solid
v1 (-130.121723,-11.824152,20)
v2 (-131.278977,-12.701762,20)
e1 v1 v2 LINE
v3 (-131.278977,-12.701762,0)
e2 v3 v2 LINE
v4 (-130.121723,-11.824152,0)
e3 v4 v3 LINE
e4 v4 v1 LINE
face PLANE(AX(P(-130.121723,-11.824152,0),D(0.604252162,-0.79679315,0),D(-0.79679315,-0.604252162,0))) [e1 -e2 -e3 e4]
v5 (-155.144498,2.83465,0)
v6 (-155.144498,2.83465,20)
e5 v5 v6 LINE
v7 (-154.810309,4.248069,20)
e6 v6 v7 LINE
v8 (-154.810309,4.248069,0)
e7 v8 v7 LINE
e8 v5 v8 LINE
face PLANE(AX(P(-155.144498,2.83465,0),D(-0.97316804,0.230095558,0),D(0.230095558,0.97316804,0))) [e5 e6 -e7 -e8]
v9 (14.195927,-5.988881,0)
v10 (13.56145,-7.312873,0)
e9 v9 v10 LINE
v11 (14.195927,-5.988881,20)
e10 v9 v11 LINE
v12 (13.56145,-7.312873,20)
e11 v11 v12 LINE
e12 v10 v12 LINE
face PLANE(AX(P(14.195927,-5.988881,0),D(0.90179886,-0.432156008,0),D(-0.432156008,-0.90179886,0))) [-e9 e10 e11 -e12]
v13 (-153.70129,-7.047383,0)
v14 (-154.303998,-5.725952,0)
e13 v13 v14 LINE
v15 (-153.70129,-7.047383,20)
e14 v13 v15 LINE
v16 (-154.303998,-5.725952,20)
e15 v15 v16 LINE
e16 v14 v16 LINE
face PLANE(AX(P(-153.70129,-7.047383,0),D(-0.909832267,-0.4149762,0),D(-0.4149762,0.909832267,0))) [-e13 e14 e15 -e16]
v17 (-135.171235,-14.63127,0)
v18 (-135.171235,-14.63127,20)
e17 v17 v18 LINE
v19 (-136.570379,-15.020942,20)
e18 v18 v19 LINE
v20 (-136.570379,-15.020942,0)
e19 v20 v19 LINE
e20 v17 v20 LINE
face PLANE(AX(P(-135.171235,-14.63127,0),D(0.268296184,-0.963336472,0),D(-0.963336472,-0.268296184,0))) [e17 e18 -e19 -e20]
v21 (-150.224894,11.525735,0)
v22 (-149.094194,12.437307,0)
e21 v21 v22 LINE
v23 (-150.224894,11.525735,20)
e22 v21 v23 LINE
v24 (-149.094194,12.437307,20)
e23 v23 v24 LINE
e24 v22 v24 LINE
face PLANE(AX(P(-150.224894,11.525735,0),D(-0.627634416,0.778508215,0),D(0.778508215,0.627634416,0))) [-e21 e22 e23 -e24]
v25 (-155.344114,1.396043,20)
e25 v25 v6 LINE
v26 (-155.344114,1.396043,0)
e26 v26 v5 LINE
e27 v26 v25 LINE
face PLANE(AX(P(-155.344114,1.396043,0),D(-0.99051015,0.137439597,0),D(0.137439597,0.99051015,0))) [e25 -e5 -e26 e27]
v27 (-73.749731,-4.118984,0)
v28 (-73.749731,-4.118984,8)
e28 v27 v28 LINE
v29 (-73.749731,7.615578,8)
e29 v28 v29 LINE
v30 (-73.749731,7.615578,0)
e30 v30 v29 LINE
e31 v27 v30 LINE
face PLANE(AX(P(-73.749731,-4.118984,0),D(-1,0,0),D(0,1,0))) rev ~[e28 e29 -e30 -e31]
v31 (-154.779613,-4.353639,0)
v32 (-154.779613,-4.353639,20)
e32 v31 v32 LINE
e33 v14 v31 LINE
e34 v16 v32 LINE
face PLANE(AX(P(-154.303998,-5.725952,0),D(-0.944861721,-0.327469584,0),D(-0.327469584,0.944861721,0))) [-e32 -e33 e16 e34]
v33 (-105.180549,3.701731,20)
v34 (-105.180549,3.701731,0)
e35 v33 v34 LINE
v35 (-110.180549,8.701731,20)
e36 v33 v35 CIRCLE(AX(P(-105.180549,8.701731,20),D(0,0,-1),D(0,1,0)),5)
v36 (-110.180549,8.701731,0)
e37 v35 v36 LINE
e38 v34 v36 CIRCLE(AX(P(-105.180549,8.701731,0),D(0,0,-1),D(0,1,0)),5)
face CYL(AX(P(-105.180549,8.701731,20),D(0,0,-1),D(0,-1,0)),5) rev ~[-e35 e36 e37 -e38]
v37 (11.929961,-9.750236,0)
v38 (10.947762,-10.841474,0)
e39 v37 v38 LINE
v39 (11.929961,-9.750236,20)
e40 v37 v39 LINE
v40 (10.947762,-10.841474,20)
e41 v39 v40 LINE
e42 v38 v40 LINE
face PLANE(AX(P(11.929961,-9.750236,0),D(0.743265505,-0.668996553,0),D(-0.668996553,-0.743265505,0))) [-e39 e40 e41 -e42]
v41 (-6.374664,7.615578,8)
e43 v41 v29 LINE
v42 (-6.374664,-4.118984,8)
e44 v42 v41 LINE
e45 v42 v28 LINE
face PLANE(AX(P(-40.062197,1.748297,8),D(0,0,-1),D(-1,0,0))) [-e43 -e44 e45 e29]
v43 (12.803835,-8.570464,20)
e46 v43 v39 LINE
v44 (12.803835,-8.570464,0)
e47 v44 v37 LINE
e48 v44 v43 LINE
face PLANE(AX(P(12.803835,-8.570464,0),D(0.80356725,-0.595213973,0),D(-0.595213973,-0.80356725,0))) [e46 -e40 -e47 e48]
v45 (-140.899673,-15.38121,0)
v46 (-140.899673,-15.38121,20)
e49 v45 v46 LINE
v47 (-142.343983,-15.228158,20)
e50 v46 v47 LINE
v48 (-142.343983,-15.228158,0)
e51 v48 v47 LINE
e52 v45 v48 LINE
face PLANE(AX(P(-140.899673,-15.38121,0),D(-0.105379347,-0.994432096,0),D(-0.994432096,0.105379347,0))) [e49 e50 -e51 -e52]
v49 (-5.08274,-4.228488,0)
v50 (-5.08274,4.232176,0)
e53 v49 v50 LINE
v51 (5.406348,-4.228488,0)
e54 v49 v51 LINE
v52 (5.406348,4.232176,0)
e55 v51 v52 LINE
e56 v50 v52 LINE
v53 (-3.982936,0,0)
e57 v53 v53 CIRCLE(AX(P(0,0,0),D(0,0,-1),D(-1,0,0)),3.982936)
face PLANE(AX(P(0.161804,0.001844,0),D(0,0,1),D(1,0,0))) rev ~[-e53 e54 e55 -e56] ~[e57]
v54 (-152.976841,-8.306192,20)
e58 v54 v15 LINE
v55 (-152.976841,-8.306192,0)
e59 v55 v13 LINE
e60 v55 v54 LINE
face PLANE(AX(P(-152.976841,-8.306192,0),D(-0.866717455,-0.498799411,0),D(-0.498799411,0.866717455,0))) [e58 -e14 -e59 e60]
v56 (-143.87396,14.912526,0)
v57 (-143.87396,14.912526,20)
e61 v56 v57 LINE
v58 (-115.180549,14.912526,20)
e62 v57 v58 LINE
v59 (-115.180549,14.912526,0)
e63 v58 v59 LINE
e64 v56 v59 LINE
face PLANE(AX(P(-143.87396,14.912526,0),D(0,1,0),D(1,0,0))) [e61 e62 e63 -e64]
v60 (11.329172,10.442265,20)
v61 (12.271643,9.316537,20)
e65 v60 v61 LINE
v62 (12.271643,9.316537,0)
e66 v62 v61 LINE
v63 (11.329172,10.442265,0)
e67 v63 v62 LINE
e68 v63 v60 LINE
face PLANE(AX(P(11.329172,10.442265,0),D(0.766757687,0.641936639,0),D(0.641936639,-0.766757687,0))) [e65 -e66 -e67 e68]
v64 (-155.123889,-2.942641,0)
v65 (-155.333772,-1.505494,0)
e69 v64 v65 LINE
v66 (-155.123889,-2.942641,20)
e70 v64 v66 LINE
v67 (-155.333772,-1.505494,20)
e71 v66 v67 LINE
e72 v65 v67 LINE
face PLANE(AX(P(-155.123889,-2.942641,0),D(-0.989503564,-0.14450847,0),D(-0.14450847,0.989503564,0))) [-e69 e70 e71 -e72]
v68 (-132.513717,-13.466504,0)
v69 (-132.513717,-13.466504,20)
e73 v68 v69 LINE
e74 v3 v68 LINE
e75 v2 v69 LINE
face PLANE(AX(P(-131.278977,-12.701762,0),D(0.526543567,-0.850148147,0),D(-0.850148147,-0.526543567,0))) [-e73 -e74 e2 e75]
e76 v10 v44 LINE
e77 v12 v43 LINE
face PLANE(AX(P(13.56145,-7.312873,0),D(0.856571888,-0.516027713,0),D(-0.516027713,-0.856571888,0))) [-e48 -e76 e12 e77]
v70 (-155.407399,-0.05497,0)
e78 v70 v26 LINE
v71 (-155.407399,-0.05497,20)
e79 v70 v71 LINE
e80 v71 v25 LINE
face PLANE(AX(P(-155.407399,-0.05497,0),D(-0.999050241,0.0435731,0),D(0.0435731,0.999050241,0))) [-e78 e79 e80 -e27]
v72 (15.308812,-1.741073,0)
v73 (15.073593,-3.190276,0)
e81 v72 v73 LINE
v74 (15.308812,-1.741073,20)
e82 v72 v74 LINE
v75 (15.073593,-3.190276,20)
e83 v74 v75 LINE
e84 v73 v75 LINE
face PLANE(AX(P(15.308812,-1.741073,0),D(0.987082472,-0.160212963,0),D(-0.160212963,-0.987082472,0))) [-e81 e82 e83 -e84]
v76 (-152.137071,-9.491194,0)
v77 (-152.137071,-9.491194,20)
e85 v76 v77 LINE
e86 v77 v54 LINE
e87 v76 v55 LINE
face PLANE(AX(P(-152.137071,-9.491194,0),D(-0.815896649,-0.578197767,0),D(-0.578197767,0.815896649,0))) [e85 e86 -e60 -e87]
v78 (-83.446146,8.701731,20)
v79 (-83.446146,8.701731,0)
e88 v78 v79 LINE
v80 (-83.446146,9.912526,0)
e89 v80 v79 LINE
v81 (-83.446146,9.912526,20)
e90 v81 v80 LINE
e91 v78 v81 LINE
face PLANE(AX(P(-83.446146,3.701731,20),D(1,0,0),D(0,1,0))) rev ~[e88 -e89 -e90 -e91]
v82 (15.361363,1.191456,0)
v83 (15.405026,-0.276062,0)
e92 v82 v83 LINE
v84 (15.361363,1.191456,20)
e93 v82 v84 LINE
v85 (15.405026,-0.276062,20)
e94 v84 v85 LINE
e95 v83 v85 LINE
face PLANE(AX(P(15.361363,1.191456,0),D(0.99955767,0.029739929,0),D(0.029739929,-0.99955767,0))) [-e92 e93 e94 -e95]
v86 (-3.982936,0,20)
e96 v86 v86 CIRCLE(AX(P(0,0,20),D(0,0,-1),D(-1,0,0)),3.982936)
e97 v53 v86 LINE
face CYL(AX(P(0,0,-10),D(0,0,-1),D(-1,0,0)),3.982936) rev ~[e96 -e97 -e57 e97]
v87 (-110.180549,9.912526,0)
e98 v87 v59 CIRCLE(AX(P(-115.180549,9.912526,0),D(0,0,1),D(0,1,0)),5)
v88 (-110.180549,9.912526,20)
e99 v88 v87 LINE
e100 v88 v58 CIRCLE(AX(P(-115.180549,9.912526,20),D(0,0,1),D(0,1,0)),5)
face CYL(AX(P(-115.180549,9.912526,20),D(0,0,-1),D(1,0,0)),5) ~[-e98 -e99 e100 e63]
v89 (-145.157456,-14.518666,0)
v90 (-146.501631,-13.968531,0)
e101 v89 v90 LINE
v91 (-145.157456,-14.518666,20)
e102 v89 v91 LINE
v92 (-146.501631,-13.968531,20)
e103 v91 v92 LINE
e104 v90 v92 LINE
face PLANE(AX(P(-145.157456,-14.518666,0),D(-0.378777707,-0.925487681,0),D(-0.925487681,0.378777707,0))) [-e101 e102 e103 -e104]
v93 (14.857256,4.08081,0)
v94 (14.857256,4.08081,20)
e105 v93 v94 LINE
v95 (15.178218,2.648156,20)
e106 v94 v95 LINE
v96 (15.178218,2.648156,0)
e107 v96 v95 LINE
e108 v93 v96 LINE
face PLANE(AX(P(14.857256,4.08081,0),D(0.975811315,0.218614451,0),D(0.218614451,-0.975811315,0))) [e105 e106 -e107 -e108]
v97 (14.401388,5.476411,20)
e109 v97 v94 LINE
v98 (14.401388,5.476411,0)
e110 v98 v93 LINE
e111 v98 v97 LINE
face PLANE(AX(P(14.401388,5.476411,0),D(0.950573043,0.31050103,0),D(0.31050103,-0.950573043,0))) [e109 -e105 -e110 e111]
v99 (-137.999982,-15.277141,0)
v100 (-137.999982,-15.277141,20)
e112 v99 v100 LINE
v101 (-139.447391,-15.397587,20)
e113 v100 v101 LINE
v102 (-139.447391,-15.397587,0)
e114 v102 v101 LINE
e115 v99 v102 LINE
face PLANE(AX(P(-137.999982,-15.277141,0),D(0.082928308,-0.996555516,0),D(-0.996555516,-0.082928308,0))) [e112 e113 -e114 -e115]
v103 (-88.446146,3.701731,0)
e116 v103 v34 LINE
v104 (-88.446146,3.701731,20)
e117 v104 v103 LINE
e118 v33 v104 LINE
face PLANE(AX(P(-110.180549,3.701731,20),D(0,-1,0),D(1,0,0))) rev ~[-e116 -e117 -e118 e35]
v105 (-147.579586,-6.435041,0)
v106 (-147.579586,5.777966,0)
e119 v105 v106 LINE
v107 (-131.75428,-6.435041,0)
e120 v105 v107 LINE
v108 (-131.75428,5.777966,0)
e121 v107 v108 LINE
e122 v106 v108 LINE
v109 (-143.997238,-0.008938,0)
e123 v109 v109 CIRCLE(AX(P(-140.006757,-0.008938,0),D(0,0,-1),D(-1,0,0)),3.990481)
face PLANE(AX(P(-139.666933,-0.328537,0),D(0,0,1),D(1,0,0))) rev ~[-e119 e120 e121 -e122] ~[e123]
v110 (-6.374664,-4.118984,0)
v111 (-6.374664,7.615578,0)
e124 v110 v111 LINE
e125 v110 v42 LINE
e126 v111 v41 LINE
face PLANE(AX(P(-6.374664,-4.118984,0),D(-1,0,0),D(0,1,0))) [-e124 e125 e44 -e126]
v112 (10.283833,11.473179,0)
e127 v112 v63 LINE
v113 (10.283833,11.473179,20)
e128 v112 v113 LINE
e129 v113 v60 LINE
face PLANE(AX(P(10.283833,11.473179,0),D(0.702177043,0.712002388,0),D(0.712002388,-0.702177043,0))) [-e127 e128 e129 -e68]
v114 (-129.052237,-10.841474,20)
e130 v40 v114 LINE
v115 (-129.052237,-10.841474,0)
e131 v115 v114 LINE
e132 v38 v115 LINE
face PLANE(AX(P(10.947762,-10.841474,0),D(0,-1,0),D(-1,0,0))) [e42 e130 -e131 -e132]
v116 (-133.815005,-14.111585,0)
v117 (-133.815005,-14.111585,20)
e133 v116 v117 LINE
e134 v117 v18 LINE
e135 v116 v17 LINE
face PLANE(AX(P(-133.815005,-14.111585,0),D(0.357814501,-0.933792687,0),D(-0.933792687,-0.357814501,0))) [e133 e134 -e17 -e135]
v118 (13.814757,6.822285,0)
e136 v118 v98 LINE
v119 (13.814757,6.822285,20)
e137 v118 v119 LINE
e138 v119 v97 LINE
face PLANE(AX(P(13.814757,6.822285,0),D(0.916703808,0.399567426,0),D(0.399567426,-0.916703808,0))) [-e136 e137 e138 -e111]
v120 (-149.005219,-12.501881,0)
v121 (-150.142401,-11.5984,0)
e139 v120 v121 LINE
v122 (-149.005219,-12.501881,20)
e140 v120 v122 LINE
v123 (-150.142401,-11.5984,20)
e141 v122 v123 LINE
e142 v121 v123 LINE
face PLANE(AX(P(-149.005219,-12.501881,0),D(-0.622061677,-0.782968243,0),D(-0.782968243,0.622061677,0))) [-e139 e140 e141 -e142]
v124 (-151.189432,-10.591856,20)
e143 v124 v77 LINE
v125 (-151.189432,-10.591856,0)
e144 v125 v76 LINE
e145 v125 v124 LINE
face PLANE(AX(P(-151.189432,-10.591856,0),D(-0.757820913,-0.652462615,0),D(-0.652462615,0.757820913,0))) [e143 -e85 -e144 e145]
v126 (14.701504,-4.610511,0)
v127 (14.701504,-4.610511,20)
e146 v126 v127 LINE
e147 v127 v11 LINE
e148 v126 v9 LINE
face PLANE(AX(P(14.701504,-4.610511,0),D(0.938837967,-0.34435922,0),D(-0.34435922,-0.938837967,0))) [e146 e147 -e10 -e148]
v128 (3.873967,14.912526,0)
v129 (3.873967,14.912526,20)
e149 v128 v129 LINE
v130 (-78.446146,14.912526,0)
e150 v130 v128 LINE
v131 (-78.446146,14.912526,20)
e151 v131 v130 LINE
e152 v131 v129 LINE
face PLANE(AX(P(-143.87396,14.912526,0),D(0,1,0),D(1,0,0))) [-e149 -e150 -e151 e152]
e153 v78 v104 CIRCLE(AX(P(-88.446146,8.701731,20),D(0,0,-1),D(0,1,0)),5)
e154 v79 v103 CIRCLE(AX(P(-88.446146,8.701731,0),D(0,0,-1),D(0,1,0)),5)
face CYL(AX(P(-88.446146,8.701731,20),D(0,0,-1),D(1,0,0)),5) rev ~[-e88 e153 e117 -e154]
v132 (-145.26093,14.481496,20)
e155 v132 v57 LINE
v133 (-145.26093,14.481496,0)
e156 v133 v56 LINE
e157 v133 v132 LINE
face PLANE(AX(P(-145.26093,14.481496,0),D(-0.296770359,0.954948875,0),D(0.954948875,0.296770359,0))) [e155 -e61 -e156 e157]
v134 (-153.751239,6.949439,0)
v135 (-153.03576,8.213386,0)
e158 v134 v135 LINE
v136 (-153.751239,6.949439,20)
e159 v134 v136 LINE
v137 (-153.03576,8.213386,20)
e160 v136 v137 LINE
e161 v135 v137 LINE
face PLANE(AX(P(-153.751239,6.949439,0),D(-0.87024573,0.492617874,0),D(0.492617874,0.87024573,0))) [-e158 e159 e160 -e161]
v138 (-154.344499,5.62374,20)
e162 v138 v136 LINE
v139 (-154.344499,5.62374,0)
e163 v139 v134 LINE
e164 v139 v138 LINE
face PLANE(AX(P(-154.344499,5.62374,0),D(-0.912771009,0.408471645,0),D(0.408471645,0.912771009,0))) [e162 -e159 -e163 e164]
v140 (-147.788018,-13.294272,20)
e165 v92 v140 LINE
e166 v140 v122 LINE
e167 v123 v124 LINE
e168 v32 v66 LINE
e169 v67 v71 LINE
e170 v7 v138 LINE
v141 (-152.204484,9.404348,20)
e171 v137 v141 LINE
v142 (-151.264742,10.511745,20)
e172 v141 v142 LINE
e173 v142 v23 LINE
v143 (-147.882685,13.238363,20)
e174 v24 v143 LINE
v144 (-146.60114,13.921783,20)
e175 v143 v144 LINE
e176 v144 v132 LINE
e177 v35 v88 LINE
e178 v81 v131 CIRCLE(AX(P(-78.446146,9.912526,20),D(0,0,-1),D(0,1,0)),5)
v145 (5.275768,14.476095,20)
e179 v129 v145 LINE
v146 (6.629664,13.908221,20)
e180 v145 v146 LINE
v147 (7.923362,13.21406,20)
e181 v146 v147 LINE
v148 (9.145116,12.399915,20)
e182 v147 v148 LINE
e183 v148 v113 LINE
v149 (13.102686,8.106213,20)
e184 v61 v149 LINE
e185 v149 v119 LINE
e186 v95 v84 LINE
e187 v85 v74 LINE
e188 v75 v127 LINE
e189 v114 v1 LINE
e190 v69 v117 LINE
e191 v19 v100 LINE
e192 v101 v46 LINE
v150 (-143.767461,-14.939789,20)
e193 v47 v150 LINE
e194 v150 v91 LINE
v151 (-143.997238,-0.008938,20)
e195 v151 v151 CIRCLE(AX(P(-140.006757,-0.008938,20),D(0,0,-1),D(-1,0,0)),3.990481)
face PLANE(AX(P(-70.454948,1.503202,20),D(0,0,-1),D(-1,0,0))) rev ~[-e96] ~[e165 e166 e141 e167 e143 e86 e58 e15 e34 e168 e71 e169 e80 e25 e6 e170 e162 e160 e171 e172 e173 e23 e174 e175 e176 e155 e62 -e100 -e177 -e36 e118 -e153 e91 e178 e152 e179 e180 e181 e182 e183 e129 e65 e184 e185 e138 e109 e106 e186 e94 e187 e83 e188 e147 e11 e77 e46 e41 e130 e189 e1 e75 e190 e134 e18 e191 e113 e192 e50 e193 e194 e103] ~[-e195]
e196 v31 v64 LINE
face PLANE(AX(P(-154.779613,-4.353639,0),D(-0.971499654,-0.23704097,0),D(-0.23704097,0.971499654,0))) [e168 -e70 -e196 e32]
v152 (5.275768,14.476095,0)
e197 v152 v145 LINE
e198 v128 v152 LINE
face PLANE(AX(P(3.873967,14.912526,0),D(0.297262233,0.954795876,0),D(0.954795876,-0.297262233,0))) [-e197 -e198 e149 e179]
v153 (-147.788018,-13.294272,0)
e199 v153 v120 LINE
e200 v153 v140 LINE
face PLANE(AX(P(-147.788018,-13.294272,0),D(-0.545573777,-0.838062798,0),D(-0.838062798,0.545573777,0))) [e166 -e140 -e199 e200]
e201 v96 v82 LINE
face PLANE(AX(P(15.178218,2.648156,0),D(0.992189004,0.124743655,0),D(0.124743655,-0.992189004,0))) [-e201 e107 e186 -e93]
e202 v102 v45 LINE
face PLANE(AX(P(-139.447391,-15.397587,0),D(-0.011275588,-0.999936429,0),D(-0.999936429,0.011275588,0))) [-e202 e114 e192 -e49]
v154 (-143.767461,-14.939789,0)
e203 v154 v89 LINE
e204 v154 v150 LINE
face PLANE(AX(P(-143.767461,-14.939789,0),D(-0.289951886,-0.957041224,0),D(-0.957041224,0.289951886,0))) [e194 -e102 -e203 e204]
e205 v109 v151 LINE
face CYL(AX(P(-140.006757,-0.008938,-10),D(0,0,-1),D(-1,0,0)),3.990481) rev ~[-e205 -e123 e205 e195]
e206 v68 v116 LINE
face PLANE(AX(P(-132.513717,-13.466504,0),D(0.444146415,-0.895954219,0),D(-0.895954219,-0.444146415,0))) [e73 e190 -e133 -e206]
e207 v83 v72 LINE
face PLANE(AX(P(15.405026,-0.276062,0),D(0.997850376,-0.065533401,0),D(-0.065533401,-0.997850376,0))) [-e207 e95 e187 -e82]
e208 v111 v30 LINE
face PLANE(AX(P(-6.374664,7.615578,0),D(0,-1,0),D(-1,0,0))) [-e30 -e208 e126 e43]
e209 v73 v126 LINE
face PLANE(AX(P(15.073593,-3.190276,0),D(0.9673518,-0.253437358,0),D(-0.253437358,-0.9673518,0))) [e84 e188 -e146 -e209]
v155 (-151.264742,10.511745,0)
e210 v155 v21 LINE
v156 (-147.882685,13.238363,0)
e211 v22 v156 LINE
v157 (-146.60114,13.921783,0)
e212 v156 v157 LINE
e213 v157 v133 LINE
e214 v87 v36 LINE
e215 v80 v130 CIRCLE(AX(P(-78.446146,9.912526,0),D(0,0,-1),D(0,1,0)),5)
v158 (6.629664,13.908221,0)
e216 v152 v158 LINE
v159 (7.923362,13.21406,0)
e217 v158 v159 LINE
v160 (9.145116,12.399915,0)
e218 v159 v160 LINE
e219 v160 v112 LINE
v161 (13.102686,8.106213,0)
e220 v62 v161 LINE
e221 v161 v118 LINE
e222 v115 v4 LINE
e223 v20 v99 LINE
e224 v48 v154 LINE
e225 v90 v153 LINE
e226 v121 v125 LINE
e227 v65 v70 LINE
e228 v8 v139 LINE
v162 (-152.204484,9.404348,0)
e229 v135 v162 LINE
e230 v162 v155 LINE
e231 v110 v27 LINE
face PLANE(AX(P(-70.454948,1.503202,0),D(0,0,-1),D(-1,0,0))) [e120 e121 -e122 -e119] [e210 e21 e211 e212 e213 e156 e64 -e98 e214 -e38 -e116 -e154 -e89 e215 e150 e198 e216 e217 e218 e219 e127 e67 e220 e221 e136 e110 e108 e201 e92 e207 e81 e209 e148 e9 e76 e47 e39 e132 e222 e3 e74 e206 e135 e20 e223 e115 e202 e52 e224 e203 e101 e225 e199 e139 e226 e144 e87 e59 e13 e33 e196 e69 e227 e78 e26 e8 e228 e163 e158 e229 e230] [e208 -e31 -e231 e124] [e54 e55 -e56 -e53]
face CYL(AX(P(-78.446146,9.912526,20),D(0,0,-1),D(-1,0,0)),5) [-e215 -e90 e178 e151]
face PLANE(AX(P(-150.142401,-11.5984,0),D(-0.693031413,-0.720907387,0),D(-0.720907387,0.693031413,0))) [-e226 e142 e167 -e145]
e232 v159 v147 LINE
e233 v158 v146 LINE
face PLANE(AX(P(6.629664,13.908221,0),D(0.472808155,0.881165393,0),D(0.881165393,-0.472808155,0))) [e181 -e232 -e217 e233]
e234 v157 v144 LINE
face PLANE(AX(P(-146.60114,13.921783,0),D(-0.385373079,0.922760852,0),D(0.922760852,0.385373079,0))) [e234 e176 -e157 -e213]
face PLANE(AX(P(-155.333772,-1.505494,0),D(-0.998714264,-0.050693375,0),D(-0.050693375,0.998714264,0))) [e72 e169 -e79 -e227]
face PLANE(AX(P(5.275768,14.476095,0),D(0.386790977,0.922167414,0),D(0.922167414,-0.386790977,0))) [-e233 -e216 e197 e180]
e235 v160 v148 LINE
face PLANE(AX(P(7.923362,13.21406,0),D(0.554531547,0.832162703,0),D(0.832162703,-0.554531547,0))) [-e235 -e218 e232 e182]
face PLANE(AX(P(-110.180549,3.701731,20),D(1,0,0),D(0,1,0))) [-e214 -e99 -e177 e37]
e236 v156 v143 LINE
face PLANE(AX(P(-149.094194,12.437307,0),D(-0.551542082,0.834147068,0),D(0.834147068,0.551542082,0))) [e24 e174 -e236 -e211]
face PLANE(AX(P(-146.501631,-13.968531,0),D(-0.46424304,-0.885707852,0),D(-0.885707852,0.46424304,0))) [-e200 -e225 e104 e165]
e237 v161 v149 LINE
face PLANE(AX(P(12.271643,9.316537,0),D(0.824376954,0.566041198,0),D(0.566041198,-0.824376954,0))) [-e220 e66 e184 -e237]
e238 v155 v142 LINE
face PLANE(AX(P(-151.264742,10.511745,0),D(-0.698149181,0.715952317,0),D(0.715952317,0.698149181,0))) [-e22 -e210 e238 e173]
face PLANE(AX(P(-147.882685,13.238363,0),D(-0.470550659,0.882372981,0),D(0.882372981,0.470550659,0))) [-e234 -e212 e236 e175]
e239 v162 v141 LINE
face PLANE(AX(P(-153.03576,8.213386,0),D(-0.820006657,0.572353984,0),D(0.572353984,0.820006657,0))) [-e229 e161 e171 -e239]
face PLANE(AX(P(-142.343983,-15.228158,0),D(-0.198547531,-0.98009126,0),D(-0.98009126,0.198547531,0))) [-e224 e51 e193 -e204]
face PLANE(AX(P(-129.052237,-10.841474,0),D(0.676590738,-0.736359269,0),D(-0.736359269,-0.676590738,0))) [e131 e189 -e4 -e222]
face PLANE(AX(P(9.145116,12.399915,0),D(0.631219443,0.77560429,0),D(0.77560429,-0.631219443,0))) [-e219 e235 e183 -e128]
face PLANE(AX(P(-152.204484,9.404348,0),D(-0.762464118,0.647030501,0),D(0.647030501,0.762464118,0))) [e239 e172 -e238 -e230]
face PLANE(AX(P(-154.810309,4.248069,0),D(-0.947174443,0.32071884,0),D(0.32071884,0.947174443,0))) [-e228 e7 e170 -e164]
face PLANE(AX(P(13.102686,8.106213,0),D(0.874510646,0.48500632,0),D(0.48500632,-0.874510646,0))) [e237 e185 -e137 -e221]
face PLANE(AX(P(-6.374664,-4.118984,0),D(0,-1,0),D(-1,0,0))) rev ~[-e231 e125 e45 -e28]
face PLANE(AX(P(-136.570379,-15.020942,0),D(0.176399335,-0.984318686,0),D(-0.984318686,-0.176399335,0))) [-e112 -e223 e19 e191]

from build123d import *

# Parameters (mm, degrees)
BOSS_EXTRUDE1_DEPTH = 19.999999553
CUT_EXTRUDE1_DEPTH  = 158.443784597
CUT_EXTRUDE2_DEPTH  = 158.443784597
SKETCH7_W           = 15.825305434
SKETCH7_H           = 12.213007454
SKETCH7_W_2         = 10.489088449
SKETCH7_H_2         = 8.460664219
BOSS_EXTRUDE5_DEPTH = 20
SKETCH6_R           = 3.982936417
SKETCH6_R_2         = 3.990480896
CUT_EXTRUDE8_DEPTH  = 40
SKETCH8_W           = 26.734403149
SKETCH8_H           = 11.210794898
CUT_EXTRUDE9_DEPTH  = 30
FILLET1_R           = 5
FILLET2_R           = 5
SKETCH9_W           = 67.375066669
SKETCH9_H           = 11.734562751
CUT_EXTRUDE10_DEPTH = 8


with BuildPart() as part:
    # Sketch1 → Boss-Extrude1 (new body)
    with BuildSketch(Plane(origin=(0, 0, 0), x_dir=(-1, 0, 0), z_dir=(0, 0, -1))):
        Polygon((150.224894285, 11.525735259), (149.094194174, 12.437307276), (147.882685065, 13.238362968), (146.601140499, 13.921783306), (145.260930061, 14.481496066), (143.87395978, 14.912526123), (-3.873967333, 14.912526123), (-5.275767762, 14.476095326), (-6.629663985, 13.908221386), (-7.923361845, 13.214060105), (-9.145116434, 12.399914674), (-10.28383337, 11.473178864), (-11.329172179, 10.442265309), (-12.271642685, 9.316536598), (-13.102686033, 8.106213063), (-13.814756647, 6.822284777), (-14.401388355, 5.476410501), (-14.857255854, 4.080810118), (-15.178218484, 2.648155671), (-15.361363068, 1.191455987), (-15.405026264, -0.276062055), (-15.308812261, -1.741073444), (-15.073592775, -3.19027598), (-14.70150426, -4.610510543), (-14.195927419, -5.988881458), (-13.561449945, -7.312873378), (-12.803834863, -8.570464328), (-11.929960921, -9.750235826), (-10.947762057, -10.841473937), (129.052236676, -10.841473937), (130.121722817, -11.824152432), (131.278976798, -12.701761909), (132.513716817, -13.466504402), (133.815005422, -14.111584984), (135.171234608, -14.631270431), (136.570379138, -15.020942315), (137.999981642, -15.277140774), (139.447391033, -15.39758686), (140.899673104, -15.381210484), (142.343983054, -15.228157863), (143.767461181, -14.939788729), (145.157456398, -14.518666081), (146.501630545, -13.968531042), (147.788017988, -13.294272125), (149.00521934, -12.501881458), (150.142401457, -11.59839984), (151.189431548, -10.591856204), (152.137070894, -9.49119404), (152.976840734, -8.306192234), (153.701290488, -7.047383115), (154.303997755, -5.725951865), (154.779613018, -4.353639204), (155.123889446, -2.9426408), (155.333772302, -1.505494351), (155.407398939, -0.054970031), (155.344113708, 1.39604276), (155.144497752, 2.834650222), (154.81030941, 4.248069134), (154.344499111, 5.623740144), (153.751239181, 6.949439179), (153.035759926, 8.21338594), (152.204483747, 9.40434821), (151.264742017, 10.511744767), align=None)
    extrude(amount=-BOSS_EXTRUDE1_DEPTH)

    # Sketch2 → Cut-Extrude1 (cut, through all)
    with BuildSketch(Plane.XY.offset(19.999999553)):
        Polygon((3.729888937, 1.444966649), (3.400868736, 2.105728723), (2.956035547, 2.694782568), (2.410538495, 3.192068776), (1.78295339, 3.580653109), (1.094651991, 3.847302636), (0.369073445, 3.982936498), (-0.369073445, 3.982936498), (-1.094651991, 3.847302636), (-1.78295339, 3.580653109), (-2.410538495, 3.192068776), (-2.956035547, 2.694782568), (-3.400868736, 2.105728723), (-3.729888937, 1.444966649), (-3.93189257, 0.73499803), (-4.00000019, 0), (-3.93189257, -0.73499803), (-3.729888937, -1.444966649), (-3.400868736, -2.105728723), (-2.956035547, -2.694782568), (-2.410538495, -3.192068776), (-1.78295339, -3.580653109), (-1.094651991, -3.847302636), (-0.369073445, -3.982936498), (0.369073445, -3.982936498), (1.094651991, -3.847302636), (1.78295339, -3.580653109), (2.410538495, -3.192068776), (2.956035547, -2.694782568), (3.400868736, -2.105728723), (3.729888937, -1.444966649), (3.93189257, -0.73499803), (4.00000019, 0), (3.93189257, 0.73499803), align=None)
    extrude(amount=-CUT_EXTRUDE1_DEPTH, mode=Mode.SUBTRACT)

    # Sketch3 → Cut-Extrude2 (cut, through all)
    with BuildSketch(Plane.XY.offset(19.999999553)):
        Polygon((-139.630913734, 3.982936498), (-140.369072556, 3.982936498), (-141.094654799, 3.847302636), (-141.782954335, 3.580653109), (-142.41053164, 3.192068776), (-142.956033349, 2.694782568), (-143.400862813, 2.105728723), (-143.729895353, 1.444966649), (-143.931895494, 0.73499803), (-143.999993801, 0), (-143.931895494, -0.73499803), (-143.729895353, -1.444966649), (-143.400862813, -2.105728723), (-142.956033349, -2.694782568), (-142.41053164, -3.192068776), (-141.782954335, -3.580653109), (-141.094654799, -3.847302636), (-140.369072556, -3.982936498), (-139.630913734, -3.982936498), (-138.905346394, -3.847302636), (-138.217046857, -3.580653109), (-137.589469552, -3.192068776), (-137.043967843, -2.694782568), (-136.599138379, -2.105728723), (-136.270105839, -1.444966649), (-136.068105698, -0.73499803), (-136.000007391, 0), (-136.068105698, 0.73499803), (-136.270105839, 1.444966649), (-136.599138379, 2.105728723), (-137.043967843, 2.694782568), (-137.589469552, 3.192068776), (-138.217046857, 3.580653109), (-138.905346394, 3.847302636), align=None)
    extrude(amount=-CUT_EXTRUDE2_DEPTH, mode=Mode.SUBTRACT)

    # Sketch7 → Boss-Extrude5 (add)
    with BuildSketch(Plane.XY.offset(19.999999553)):
        with Locations((-139.666933083, -0.328537463)):
            Rectangle(SKETCH7_W, SKETCH7_H)
        with Locations((0.16180396, 0.00184402)):
            Rectangle(SKETCH7_W_2, SKETCH7_H_2)
    extrude(amount=-BOSS_EXTRUDE5_DEPTH)

    # Sketch6 → Cut-Extrude8 (cut)
    with BuildSketch(Plane(origin=(0, 0, -10), x_dir=(-1, 0, 0), z_dir=(0, 0, -1))):
        with Locations((4.82e-07, 8.1e-08)):
            Circle(SKETCH6_R)
        with Locations((140.006757016, -0.008937853)):
            Circle(SKETCH6_R_2)
    extrude(amount=-CUT_EXTRUDE8_DEPTH, mode=Mode.SUBTRACT)

    # Sketch8 → Cut-Extrude9 (cut)
    with BuildSketch(Plane.XY.offset(19.999999553)):
        with Locations((-96.813347326, 9.307128674)):
            Rectangle(SKETCH8_W, SKETCH8_H)
    extrude(amount=-CUT_EXTRUDE9_DEPTH, mode=Mode.SUBTRACT)

    # Fillet1
    fillet1_edges = [part.edges().sort_by_distance(p)[0] for p in [
        (-83.446145751, 3.701731225, 9.999999776),
        (-110.1805489, 3.701731225, 9.999999776),
    ]]
    fillet(fillet1_edges, radius=FILLET1_R)

    # Fillet2
    fillet2_edges = [part.edges().sort_by_distance(p)[0] for p in [
        (-83.446145751, 14.912526123, 9.999999776),
        (-110.1805489, 14.912526123, 9.999999776),
    ]]
    fillet(fillet2_edges, radius=FILLET2_R)

    # Sketch9 → Cut-Extrude10 (cut)
    with BuildSketch(Plane(origin=(0, 2.549240283, 0), x_dir=(-1, 0, 0), z_dir=(0, 0, -1))):
        with Locations((40.062197326, -0.800943257)):
            Rectangle(SKETCH9_W, SKETCH9_H)
    extrude(amount=-CUT_EXTRUDE10_DEPTH, mode=Mode.SUBTRACT)


solid = part.part
